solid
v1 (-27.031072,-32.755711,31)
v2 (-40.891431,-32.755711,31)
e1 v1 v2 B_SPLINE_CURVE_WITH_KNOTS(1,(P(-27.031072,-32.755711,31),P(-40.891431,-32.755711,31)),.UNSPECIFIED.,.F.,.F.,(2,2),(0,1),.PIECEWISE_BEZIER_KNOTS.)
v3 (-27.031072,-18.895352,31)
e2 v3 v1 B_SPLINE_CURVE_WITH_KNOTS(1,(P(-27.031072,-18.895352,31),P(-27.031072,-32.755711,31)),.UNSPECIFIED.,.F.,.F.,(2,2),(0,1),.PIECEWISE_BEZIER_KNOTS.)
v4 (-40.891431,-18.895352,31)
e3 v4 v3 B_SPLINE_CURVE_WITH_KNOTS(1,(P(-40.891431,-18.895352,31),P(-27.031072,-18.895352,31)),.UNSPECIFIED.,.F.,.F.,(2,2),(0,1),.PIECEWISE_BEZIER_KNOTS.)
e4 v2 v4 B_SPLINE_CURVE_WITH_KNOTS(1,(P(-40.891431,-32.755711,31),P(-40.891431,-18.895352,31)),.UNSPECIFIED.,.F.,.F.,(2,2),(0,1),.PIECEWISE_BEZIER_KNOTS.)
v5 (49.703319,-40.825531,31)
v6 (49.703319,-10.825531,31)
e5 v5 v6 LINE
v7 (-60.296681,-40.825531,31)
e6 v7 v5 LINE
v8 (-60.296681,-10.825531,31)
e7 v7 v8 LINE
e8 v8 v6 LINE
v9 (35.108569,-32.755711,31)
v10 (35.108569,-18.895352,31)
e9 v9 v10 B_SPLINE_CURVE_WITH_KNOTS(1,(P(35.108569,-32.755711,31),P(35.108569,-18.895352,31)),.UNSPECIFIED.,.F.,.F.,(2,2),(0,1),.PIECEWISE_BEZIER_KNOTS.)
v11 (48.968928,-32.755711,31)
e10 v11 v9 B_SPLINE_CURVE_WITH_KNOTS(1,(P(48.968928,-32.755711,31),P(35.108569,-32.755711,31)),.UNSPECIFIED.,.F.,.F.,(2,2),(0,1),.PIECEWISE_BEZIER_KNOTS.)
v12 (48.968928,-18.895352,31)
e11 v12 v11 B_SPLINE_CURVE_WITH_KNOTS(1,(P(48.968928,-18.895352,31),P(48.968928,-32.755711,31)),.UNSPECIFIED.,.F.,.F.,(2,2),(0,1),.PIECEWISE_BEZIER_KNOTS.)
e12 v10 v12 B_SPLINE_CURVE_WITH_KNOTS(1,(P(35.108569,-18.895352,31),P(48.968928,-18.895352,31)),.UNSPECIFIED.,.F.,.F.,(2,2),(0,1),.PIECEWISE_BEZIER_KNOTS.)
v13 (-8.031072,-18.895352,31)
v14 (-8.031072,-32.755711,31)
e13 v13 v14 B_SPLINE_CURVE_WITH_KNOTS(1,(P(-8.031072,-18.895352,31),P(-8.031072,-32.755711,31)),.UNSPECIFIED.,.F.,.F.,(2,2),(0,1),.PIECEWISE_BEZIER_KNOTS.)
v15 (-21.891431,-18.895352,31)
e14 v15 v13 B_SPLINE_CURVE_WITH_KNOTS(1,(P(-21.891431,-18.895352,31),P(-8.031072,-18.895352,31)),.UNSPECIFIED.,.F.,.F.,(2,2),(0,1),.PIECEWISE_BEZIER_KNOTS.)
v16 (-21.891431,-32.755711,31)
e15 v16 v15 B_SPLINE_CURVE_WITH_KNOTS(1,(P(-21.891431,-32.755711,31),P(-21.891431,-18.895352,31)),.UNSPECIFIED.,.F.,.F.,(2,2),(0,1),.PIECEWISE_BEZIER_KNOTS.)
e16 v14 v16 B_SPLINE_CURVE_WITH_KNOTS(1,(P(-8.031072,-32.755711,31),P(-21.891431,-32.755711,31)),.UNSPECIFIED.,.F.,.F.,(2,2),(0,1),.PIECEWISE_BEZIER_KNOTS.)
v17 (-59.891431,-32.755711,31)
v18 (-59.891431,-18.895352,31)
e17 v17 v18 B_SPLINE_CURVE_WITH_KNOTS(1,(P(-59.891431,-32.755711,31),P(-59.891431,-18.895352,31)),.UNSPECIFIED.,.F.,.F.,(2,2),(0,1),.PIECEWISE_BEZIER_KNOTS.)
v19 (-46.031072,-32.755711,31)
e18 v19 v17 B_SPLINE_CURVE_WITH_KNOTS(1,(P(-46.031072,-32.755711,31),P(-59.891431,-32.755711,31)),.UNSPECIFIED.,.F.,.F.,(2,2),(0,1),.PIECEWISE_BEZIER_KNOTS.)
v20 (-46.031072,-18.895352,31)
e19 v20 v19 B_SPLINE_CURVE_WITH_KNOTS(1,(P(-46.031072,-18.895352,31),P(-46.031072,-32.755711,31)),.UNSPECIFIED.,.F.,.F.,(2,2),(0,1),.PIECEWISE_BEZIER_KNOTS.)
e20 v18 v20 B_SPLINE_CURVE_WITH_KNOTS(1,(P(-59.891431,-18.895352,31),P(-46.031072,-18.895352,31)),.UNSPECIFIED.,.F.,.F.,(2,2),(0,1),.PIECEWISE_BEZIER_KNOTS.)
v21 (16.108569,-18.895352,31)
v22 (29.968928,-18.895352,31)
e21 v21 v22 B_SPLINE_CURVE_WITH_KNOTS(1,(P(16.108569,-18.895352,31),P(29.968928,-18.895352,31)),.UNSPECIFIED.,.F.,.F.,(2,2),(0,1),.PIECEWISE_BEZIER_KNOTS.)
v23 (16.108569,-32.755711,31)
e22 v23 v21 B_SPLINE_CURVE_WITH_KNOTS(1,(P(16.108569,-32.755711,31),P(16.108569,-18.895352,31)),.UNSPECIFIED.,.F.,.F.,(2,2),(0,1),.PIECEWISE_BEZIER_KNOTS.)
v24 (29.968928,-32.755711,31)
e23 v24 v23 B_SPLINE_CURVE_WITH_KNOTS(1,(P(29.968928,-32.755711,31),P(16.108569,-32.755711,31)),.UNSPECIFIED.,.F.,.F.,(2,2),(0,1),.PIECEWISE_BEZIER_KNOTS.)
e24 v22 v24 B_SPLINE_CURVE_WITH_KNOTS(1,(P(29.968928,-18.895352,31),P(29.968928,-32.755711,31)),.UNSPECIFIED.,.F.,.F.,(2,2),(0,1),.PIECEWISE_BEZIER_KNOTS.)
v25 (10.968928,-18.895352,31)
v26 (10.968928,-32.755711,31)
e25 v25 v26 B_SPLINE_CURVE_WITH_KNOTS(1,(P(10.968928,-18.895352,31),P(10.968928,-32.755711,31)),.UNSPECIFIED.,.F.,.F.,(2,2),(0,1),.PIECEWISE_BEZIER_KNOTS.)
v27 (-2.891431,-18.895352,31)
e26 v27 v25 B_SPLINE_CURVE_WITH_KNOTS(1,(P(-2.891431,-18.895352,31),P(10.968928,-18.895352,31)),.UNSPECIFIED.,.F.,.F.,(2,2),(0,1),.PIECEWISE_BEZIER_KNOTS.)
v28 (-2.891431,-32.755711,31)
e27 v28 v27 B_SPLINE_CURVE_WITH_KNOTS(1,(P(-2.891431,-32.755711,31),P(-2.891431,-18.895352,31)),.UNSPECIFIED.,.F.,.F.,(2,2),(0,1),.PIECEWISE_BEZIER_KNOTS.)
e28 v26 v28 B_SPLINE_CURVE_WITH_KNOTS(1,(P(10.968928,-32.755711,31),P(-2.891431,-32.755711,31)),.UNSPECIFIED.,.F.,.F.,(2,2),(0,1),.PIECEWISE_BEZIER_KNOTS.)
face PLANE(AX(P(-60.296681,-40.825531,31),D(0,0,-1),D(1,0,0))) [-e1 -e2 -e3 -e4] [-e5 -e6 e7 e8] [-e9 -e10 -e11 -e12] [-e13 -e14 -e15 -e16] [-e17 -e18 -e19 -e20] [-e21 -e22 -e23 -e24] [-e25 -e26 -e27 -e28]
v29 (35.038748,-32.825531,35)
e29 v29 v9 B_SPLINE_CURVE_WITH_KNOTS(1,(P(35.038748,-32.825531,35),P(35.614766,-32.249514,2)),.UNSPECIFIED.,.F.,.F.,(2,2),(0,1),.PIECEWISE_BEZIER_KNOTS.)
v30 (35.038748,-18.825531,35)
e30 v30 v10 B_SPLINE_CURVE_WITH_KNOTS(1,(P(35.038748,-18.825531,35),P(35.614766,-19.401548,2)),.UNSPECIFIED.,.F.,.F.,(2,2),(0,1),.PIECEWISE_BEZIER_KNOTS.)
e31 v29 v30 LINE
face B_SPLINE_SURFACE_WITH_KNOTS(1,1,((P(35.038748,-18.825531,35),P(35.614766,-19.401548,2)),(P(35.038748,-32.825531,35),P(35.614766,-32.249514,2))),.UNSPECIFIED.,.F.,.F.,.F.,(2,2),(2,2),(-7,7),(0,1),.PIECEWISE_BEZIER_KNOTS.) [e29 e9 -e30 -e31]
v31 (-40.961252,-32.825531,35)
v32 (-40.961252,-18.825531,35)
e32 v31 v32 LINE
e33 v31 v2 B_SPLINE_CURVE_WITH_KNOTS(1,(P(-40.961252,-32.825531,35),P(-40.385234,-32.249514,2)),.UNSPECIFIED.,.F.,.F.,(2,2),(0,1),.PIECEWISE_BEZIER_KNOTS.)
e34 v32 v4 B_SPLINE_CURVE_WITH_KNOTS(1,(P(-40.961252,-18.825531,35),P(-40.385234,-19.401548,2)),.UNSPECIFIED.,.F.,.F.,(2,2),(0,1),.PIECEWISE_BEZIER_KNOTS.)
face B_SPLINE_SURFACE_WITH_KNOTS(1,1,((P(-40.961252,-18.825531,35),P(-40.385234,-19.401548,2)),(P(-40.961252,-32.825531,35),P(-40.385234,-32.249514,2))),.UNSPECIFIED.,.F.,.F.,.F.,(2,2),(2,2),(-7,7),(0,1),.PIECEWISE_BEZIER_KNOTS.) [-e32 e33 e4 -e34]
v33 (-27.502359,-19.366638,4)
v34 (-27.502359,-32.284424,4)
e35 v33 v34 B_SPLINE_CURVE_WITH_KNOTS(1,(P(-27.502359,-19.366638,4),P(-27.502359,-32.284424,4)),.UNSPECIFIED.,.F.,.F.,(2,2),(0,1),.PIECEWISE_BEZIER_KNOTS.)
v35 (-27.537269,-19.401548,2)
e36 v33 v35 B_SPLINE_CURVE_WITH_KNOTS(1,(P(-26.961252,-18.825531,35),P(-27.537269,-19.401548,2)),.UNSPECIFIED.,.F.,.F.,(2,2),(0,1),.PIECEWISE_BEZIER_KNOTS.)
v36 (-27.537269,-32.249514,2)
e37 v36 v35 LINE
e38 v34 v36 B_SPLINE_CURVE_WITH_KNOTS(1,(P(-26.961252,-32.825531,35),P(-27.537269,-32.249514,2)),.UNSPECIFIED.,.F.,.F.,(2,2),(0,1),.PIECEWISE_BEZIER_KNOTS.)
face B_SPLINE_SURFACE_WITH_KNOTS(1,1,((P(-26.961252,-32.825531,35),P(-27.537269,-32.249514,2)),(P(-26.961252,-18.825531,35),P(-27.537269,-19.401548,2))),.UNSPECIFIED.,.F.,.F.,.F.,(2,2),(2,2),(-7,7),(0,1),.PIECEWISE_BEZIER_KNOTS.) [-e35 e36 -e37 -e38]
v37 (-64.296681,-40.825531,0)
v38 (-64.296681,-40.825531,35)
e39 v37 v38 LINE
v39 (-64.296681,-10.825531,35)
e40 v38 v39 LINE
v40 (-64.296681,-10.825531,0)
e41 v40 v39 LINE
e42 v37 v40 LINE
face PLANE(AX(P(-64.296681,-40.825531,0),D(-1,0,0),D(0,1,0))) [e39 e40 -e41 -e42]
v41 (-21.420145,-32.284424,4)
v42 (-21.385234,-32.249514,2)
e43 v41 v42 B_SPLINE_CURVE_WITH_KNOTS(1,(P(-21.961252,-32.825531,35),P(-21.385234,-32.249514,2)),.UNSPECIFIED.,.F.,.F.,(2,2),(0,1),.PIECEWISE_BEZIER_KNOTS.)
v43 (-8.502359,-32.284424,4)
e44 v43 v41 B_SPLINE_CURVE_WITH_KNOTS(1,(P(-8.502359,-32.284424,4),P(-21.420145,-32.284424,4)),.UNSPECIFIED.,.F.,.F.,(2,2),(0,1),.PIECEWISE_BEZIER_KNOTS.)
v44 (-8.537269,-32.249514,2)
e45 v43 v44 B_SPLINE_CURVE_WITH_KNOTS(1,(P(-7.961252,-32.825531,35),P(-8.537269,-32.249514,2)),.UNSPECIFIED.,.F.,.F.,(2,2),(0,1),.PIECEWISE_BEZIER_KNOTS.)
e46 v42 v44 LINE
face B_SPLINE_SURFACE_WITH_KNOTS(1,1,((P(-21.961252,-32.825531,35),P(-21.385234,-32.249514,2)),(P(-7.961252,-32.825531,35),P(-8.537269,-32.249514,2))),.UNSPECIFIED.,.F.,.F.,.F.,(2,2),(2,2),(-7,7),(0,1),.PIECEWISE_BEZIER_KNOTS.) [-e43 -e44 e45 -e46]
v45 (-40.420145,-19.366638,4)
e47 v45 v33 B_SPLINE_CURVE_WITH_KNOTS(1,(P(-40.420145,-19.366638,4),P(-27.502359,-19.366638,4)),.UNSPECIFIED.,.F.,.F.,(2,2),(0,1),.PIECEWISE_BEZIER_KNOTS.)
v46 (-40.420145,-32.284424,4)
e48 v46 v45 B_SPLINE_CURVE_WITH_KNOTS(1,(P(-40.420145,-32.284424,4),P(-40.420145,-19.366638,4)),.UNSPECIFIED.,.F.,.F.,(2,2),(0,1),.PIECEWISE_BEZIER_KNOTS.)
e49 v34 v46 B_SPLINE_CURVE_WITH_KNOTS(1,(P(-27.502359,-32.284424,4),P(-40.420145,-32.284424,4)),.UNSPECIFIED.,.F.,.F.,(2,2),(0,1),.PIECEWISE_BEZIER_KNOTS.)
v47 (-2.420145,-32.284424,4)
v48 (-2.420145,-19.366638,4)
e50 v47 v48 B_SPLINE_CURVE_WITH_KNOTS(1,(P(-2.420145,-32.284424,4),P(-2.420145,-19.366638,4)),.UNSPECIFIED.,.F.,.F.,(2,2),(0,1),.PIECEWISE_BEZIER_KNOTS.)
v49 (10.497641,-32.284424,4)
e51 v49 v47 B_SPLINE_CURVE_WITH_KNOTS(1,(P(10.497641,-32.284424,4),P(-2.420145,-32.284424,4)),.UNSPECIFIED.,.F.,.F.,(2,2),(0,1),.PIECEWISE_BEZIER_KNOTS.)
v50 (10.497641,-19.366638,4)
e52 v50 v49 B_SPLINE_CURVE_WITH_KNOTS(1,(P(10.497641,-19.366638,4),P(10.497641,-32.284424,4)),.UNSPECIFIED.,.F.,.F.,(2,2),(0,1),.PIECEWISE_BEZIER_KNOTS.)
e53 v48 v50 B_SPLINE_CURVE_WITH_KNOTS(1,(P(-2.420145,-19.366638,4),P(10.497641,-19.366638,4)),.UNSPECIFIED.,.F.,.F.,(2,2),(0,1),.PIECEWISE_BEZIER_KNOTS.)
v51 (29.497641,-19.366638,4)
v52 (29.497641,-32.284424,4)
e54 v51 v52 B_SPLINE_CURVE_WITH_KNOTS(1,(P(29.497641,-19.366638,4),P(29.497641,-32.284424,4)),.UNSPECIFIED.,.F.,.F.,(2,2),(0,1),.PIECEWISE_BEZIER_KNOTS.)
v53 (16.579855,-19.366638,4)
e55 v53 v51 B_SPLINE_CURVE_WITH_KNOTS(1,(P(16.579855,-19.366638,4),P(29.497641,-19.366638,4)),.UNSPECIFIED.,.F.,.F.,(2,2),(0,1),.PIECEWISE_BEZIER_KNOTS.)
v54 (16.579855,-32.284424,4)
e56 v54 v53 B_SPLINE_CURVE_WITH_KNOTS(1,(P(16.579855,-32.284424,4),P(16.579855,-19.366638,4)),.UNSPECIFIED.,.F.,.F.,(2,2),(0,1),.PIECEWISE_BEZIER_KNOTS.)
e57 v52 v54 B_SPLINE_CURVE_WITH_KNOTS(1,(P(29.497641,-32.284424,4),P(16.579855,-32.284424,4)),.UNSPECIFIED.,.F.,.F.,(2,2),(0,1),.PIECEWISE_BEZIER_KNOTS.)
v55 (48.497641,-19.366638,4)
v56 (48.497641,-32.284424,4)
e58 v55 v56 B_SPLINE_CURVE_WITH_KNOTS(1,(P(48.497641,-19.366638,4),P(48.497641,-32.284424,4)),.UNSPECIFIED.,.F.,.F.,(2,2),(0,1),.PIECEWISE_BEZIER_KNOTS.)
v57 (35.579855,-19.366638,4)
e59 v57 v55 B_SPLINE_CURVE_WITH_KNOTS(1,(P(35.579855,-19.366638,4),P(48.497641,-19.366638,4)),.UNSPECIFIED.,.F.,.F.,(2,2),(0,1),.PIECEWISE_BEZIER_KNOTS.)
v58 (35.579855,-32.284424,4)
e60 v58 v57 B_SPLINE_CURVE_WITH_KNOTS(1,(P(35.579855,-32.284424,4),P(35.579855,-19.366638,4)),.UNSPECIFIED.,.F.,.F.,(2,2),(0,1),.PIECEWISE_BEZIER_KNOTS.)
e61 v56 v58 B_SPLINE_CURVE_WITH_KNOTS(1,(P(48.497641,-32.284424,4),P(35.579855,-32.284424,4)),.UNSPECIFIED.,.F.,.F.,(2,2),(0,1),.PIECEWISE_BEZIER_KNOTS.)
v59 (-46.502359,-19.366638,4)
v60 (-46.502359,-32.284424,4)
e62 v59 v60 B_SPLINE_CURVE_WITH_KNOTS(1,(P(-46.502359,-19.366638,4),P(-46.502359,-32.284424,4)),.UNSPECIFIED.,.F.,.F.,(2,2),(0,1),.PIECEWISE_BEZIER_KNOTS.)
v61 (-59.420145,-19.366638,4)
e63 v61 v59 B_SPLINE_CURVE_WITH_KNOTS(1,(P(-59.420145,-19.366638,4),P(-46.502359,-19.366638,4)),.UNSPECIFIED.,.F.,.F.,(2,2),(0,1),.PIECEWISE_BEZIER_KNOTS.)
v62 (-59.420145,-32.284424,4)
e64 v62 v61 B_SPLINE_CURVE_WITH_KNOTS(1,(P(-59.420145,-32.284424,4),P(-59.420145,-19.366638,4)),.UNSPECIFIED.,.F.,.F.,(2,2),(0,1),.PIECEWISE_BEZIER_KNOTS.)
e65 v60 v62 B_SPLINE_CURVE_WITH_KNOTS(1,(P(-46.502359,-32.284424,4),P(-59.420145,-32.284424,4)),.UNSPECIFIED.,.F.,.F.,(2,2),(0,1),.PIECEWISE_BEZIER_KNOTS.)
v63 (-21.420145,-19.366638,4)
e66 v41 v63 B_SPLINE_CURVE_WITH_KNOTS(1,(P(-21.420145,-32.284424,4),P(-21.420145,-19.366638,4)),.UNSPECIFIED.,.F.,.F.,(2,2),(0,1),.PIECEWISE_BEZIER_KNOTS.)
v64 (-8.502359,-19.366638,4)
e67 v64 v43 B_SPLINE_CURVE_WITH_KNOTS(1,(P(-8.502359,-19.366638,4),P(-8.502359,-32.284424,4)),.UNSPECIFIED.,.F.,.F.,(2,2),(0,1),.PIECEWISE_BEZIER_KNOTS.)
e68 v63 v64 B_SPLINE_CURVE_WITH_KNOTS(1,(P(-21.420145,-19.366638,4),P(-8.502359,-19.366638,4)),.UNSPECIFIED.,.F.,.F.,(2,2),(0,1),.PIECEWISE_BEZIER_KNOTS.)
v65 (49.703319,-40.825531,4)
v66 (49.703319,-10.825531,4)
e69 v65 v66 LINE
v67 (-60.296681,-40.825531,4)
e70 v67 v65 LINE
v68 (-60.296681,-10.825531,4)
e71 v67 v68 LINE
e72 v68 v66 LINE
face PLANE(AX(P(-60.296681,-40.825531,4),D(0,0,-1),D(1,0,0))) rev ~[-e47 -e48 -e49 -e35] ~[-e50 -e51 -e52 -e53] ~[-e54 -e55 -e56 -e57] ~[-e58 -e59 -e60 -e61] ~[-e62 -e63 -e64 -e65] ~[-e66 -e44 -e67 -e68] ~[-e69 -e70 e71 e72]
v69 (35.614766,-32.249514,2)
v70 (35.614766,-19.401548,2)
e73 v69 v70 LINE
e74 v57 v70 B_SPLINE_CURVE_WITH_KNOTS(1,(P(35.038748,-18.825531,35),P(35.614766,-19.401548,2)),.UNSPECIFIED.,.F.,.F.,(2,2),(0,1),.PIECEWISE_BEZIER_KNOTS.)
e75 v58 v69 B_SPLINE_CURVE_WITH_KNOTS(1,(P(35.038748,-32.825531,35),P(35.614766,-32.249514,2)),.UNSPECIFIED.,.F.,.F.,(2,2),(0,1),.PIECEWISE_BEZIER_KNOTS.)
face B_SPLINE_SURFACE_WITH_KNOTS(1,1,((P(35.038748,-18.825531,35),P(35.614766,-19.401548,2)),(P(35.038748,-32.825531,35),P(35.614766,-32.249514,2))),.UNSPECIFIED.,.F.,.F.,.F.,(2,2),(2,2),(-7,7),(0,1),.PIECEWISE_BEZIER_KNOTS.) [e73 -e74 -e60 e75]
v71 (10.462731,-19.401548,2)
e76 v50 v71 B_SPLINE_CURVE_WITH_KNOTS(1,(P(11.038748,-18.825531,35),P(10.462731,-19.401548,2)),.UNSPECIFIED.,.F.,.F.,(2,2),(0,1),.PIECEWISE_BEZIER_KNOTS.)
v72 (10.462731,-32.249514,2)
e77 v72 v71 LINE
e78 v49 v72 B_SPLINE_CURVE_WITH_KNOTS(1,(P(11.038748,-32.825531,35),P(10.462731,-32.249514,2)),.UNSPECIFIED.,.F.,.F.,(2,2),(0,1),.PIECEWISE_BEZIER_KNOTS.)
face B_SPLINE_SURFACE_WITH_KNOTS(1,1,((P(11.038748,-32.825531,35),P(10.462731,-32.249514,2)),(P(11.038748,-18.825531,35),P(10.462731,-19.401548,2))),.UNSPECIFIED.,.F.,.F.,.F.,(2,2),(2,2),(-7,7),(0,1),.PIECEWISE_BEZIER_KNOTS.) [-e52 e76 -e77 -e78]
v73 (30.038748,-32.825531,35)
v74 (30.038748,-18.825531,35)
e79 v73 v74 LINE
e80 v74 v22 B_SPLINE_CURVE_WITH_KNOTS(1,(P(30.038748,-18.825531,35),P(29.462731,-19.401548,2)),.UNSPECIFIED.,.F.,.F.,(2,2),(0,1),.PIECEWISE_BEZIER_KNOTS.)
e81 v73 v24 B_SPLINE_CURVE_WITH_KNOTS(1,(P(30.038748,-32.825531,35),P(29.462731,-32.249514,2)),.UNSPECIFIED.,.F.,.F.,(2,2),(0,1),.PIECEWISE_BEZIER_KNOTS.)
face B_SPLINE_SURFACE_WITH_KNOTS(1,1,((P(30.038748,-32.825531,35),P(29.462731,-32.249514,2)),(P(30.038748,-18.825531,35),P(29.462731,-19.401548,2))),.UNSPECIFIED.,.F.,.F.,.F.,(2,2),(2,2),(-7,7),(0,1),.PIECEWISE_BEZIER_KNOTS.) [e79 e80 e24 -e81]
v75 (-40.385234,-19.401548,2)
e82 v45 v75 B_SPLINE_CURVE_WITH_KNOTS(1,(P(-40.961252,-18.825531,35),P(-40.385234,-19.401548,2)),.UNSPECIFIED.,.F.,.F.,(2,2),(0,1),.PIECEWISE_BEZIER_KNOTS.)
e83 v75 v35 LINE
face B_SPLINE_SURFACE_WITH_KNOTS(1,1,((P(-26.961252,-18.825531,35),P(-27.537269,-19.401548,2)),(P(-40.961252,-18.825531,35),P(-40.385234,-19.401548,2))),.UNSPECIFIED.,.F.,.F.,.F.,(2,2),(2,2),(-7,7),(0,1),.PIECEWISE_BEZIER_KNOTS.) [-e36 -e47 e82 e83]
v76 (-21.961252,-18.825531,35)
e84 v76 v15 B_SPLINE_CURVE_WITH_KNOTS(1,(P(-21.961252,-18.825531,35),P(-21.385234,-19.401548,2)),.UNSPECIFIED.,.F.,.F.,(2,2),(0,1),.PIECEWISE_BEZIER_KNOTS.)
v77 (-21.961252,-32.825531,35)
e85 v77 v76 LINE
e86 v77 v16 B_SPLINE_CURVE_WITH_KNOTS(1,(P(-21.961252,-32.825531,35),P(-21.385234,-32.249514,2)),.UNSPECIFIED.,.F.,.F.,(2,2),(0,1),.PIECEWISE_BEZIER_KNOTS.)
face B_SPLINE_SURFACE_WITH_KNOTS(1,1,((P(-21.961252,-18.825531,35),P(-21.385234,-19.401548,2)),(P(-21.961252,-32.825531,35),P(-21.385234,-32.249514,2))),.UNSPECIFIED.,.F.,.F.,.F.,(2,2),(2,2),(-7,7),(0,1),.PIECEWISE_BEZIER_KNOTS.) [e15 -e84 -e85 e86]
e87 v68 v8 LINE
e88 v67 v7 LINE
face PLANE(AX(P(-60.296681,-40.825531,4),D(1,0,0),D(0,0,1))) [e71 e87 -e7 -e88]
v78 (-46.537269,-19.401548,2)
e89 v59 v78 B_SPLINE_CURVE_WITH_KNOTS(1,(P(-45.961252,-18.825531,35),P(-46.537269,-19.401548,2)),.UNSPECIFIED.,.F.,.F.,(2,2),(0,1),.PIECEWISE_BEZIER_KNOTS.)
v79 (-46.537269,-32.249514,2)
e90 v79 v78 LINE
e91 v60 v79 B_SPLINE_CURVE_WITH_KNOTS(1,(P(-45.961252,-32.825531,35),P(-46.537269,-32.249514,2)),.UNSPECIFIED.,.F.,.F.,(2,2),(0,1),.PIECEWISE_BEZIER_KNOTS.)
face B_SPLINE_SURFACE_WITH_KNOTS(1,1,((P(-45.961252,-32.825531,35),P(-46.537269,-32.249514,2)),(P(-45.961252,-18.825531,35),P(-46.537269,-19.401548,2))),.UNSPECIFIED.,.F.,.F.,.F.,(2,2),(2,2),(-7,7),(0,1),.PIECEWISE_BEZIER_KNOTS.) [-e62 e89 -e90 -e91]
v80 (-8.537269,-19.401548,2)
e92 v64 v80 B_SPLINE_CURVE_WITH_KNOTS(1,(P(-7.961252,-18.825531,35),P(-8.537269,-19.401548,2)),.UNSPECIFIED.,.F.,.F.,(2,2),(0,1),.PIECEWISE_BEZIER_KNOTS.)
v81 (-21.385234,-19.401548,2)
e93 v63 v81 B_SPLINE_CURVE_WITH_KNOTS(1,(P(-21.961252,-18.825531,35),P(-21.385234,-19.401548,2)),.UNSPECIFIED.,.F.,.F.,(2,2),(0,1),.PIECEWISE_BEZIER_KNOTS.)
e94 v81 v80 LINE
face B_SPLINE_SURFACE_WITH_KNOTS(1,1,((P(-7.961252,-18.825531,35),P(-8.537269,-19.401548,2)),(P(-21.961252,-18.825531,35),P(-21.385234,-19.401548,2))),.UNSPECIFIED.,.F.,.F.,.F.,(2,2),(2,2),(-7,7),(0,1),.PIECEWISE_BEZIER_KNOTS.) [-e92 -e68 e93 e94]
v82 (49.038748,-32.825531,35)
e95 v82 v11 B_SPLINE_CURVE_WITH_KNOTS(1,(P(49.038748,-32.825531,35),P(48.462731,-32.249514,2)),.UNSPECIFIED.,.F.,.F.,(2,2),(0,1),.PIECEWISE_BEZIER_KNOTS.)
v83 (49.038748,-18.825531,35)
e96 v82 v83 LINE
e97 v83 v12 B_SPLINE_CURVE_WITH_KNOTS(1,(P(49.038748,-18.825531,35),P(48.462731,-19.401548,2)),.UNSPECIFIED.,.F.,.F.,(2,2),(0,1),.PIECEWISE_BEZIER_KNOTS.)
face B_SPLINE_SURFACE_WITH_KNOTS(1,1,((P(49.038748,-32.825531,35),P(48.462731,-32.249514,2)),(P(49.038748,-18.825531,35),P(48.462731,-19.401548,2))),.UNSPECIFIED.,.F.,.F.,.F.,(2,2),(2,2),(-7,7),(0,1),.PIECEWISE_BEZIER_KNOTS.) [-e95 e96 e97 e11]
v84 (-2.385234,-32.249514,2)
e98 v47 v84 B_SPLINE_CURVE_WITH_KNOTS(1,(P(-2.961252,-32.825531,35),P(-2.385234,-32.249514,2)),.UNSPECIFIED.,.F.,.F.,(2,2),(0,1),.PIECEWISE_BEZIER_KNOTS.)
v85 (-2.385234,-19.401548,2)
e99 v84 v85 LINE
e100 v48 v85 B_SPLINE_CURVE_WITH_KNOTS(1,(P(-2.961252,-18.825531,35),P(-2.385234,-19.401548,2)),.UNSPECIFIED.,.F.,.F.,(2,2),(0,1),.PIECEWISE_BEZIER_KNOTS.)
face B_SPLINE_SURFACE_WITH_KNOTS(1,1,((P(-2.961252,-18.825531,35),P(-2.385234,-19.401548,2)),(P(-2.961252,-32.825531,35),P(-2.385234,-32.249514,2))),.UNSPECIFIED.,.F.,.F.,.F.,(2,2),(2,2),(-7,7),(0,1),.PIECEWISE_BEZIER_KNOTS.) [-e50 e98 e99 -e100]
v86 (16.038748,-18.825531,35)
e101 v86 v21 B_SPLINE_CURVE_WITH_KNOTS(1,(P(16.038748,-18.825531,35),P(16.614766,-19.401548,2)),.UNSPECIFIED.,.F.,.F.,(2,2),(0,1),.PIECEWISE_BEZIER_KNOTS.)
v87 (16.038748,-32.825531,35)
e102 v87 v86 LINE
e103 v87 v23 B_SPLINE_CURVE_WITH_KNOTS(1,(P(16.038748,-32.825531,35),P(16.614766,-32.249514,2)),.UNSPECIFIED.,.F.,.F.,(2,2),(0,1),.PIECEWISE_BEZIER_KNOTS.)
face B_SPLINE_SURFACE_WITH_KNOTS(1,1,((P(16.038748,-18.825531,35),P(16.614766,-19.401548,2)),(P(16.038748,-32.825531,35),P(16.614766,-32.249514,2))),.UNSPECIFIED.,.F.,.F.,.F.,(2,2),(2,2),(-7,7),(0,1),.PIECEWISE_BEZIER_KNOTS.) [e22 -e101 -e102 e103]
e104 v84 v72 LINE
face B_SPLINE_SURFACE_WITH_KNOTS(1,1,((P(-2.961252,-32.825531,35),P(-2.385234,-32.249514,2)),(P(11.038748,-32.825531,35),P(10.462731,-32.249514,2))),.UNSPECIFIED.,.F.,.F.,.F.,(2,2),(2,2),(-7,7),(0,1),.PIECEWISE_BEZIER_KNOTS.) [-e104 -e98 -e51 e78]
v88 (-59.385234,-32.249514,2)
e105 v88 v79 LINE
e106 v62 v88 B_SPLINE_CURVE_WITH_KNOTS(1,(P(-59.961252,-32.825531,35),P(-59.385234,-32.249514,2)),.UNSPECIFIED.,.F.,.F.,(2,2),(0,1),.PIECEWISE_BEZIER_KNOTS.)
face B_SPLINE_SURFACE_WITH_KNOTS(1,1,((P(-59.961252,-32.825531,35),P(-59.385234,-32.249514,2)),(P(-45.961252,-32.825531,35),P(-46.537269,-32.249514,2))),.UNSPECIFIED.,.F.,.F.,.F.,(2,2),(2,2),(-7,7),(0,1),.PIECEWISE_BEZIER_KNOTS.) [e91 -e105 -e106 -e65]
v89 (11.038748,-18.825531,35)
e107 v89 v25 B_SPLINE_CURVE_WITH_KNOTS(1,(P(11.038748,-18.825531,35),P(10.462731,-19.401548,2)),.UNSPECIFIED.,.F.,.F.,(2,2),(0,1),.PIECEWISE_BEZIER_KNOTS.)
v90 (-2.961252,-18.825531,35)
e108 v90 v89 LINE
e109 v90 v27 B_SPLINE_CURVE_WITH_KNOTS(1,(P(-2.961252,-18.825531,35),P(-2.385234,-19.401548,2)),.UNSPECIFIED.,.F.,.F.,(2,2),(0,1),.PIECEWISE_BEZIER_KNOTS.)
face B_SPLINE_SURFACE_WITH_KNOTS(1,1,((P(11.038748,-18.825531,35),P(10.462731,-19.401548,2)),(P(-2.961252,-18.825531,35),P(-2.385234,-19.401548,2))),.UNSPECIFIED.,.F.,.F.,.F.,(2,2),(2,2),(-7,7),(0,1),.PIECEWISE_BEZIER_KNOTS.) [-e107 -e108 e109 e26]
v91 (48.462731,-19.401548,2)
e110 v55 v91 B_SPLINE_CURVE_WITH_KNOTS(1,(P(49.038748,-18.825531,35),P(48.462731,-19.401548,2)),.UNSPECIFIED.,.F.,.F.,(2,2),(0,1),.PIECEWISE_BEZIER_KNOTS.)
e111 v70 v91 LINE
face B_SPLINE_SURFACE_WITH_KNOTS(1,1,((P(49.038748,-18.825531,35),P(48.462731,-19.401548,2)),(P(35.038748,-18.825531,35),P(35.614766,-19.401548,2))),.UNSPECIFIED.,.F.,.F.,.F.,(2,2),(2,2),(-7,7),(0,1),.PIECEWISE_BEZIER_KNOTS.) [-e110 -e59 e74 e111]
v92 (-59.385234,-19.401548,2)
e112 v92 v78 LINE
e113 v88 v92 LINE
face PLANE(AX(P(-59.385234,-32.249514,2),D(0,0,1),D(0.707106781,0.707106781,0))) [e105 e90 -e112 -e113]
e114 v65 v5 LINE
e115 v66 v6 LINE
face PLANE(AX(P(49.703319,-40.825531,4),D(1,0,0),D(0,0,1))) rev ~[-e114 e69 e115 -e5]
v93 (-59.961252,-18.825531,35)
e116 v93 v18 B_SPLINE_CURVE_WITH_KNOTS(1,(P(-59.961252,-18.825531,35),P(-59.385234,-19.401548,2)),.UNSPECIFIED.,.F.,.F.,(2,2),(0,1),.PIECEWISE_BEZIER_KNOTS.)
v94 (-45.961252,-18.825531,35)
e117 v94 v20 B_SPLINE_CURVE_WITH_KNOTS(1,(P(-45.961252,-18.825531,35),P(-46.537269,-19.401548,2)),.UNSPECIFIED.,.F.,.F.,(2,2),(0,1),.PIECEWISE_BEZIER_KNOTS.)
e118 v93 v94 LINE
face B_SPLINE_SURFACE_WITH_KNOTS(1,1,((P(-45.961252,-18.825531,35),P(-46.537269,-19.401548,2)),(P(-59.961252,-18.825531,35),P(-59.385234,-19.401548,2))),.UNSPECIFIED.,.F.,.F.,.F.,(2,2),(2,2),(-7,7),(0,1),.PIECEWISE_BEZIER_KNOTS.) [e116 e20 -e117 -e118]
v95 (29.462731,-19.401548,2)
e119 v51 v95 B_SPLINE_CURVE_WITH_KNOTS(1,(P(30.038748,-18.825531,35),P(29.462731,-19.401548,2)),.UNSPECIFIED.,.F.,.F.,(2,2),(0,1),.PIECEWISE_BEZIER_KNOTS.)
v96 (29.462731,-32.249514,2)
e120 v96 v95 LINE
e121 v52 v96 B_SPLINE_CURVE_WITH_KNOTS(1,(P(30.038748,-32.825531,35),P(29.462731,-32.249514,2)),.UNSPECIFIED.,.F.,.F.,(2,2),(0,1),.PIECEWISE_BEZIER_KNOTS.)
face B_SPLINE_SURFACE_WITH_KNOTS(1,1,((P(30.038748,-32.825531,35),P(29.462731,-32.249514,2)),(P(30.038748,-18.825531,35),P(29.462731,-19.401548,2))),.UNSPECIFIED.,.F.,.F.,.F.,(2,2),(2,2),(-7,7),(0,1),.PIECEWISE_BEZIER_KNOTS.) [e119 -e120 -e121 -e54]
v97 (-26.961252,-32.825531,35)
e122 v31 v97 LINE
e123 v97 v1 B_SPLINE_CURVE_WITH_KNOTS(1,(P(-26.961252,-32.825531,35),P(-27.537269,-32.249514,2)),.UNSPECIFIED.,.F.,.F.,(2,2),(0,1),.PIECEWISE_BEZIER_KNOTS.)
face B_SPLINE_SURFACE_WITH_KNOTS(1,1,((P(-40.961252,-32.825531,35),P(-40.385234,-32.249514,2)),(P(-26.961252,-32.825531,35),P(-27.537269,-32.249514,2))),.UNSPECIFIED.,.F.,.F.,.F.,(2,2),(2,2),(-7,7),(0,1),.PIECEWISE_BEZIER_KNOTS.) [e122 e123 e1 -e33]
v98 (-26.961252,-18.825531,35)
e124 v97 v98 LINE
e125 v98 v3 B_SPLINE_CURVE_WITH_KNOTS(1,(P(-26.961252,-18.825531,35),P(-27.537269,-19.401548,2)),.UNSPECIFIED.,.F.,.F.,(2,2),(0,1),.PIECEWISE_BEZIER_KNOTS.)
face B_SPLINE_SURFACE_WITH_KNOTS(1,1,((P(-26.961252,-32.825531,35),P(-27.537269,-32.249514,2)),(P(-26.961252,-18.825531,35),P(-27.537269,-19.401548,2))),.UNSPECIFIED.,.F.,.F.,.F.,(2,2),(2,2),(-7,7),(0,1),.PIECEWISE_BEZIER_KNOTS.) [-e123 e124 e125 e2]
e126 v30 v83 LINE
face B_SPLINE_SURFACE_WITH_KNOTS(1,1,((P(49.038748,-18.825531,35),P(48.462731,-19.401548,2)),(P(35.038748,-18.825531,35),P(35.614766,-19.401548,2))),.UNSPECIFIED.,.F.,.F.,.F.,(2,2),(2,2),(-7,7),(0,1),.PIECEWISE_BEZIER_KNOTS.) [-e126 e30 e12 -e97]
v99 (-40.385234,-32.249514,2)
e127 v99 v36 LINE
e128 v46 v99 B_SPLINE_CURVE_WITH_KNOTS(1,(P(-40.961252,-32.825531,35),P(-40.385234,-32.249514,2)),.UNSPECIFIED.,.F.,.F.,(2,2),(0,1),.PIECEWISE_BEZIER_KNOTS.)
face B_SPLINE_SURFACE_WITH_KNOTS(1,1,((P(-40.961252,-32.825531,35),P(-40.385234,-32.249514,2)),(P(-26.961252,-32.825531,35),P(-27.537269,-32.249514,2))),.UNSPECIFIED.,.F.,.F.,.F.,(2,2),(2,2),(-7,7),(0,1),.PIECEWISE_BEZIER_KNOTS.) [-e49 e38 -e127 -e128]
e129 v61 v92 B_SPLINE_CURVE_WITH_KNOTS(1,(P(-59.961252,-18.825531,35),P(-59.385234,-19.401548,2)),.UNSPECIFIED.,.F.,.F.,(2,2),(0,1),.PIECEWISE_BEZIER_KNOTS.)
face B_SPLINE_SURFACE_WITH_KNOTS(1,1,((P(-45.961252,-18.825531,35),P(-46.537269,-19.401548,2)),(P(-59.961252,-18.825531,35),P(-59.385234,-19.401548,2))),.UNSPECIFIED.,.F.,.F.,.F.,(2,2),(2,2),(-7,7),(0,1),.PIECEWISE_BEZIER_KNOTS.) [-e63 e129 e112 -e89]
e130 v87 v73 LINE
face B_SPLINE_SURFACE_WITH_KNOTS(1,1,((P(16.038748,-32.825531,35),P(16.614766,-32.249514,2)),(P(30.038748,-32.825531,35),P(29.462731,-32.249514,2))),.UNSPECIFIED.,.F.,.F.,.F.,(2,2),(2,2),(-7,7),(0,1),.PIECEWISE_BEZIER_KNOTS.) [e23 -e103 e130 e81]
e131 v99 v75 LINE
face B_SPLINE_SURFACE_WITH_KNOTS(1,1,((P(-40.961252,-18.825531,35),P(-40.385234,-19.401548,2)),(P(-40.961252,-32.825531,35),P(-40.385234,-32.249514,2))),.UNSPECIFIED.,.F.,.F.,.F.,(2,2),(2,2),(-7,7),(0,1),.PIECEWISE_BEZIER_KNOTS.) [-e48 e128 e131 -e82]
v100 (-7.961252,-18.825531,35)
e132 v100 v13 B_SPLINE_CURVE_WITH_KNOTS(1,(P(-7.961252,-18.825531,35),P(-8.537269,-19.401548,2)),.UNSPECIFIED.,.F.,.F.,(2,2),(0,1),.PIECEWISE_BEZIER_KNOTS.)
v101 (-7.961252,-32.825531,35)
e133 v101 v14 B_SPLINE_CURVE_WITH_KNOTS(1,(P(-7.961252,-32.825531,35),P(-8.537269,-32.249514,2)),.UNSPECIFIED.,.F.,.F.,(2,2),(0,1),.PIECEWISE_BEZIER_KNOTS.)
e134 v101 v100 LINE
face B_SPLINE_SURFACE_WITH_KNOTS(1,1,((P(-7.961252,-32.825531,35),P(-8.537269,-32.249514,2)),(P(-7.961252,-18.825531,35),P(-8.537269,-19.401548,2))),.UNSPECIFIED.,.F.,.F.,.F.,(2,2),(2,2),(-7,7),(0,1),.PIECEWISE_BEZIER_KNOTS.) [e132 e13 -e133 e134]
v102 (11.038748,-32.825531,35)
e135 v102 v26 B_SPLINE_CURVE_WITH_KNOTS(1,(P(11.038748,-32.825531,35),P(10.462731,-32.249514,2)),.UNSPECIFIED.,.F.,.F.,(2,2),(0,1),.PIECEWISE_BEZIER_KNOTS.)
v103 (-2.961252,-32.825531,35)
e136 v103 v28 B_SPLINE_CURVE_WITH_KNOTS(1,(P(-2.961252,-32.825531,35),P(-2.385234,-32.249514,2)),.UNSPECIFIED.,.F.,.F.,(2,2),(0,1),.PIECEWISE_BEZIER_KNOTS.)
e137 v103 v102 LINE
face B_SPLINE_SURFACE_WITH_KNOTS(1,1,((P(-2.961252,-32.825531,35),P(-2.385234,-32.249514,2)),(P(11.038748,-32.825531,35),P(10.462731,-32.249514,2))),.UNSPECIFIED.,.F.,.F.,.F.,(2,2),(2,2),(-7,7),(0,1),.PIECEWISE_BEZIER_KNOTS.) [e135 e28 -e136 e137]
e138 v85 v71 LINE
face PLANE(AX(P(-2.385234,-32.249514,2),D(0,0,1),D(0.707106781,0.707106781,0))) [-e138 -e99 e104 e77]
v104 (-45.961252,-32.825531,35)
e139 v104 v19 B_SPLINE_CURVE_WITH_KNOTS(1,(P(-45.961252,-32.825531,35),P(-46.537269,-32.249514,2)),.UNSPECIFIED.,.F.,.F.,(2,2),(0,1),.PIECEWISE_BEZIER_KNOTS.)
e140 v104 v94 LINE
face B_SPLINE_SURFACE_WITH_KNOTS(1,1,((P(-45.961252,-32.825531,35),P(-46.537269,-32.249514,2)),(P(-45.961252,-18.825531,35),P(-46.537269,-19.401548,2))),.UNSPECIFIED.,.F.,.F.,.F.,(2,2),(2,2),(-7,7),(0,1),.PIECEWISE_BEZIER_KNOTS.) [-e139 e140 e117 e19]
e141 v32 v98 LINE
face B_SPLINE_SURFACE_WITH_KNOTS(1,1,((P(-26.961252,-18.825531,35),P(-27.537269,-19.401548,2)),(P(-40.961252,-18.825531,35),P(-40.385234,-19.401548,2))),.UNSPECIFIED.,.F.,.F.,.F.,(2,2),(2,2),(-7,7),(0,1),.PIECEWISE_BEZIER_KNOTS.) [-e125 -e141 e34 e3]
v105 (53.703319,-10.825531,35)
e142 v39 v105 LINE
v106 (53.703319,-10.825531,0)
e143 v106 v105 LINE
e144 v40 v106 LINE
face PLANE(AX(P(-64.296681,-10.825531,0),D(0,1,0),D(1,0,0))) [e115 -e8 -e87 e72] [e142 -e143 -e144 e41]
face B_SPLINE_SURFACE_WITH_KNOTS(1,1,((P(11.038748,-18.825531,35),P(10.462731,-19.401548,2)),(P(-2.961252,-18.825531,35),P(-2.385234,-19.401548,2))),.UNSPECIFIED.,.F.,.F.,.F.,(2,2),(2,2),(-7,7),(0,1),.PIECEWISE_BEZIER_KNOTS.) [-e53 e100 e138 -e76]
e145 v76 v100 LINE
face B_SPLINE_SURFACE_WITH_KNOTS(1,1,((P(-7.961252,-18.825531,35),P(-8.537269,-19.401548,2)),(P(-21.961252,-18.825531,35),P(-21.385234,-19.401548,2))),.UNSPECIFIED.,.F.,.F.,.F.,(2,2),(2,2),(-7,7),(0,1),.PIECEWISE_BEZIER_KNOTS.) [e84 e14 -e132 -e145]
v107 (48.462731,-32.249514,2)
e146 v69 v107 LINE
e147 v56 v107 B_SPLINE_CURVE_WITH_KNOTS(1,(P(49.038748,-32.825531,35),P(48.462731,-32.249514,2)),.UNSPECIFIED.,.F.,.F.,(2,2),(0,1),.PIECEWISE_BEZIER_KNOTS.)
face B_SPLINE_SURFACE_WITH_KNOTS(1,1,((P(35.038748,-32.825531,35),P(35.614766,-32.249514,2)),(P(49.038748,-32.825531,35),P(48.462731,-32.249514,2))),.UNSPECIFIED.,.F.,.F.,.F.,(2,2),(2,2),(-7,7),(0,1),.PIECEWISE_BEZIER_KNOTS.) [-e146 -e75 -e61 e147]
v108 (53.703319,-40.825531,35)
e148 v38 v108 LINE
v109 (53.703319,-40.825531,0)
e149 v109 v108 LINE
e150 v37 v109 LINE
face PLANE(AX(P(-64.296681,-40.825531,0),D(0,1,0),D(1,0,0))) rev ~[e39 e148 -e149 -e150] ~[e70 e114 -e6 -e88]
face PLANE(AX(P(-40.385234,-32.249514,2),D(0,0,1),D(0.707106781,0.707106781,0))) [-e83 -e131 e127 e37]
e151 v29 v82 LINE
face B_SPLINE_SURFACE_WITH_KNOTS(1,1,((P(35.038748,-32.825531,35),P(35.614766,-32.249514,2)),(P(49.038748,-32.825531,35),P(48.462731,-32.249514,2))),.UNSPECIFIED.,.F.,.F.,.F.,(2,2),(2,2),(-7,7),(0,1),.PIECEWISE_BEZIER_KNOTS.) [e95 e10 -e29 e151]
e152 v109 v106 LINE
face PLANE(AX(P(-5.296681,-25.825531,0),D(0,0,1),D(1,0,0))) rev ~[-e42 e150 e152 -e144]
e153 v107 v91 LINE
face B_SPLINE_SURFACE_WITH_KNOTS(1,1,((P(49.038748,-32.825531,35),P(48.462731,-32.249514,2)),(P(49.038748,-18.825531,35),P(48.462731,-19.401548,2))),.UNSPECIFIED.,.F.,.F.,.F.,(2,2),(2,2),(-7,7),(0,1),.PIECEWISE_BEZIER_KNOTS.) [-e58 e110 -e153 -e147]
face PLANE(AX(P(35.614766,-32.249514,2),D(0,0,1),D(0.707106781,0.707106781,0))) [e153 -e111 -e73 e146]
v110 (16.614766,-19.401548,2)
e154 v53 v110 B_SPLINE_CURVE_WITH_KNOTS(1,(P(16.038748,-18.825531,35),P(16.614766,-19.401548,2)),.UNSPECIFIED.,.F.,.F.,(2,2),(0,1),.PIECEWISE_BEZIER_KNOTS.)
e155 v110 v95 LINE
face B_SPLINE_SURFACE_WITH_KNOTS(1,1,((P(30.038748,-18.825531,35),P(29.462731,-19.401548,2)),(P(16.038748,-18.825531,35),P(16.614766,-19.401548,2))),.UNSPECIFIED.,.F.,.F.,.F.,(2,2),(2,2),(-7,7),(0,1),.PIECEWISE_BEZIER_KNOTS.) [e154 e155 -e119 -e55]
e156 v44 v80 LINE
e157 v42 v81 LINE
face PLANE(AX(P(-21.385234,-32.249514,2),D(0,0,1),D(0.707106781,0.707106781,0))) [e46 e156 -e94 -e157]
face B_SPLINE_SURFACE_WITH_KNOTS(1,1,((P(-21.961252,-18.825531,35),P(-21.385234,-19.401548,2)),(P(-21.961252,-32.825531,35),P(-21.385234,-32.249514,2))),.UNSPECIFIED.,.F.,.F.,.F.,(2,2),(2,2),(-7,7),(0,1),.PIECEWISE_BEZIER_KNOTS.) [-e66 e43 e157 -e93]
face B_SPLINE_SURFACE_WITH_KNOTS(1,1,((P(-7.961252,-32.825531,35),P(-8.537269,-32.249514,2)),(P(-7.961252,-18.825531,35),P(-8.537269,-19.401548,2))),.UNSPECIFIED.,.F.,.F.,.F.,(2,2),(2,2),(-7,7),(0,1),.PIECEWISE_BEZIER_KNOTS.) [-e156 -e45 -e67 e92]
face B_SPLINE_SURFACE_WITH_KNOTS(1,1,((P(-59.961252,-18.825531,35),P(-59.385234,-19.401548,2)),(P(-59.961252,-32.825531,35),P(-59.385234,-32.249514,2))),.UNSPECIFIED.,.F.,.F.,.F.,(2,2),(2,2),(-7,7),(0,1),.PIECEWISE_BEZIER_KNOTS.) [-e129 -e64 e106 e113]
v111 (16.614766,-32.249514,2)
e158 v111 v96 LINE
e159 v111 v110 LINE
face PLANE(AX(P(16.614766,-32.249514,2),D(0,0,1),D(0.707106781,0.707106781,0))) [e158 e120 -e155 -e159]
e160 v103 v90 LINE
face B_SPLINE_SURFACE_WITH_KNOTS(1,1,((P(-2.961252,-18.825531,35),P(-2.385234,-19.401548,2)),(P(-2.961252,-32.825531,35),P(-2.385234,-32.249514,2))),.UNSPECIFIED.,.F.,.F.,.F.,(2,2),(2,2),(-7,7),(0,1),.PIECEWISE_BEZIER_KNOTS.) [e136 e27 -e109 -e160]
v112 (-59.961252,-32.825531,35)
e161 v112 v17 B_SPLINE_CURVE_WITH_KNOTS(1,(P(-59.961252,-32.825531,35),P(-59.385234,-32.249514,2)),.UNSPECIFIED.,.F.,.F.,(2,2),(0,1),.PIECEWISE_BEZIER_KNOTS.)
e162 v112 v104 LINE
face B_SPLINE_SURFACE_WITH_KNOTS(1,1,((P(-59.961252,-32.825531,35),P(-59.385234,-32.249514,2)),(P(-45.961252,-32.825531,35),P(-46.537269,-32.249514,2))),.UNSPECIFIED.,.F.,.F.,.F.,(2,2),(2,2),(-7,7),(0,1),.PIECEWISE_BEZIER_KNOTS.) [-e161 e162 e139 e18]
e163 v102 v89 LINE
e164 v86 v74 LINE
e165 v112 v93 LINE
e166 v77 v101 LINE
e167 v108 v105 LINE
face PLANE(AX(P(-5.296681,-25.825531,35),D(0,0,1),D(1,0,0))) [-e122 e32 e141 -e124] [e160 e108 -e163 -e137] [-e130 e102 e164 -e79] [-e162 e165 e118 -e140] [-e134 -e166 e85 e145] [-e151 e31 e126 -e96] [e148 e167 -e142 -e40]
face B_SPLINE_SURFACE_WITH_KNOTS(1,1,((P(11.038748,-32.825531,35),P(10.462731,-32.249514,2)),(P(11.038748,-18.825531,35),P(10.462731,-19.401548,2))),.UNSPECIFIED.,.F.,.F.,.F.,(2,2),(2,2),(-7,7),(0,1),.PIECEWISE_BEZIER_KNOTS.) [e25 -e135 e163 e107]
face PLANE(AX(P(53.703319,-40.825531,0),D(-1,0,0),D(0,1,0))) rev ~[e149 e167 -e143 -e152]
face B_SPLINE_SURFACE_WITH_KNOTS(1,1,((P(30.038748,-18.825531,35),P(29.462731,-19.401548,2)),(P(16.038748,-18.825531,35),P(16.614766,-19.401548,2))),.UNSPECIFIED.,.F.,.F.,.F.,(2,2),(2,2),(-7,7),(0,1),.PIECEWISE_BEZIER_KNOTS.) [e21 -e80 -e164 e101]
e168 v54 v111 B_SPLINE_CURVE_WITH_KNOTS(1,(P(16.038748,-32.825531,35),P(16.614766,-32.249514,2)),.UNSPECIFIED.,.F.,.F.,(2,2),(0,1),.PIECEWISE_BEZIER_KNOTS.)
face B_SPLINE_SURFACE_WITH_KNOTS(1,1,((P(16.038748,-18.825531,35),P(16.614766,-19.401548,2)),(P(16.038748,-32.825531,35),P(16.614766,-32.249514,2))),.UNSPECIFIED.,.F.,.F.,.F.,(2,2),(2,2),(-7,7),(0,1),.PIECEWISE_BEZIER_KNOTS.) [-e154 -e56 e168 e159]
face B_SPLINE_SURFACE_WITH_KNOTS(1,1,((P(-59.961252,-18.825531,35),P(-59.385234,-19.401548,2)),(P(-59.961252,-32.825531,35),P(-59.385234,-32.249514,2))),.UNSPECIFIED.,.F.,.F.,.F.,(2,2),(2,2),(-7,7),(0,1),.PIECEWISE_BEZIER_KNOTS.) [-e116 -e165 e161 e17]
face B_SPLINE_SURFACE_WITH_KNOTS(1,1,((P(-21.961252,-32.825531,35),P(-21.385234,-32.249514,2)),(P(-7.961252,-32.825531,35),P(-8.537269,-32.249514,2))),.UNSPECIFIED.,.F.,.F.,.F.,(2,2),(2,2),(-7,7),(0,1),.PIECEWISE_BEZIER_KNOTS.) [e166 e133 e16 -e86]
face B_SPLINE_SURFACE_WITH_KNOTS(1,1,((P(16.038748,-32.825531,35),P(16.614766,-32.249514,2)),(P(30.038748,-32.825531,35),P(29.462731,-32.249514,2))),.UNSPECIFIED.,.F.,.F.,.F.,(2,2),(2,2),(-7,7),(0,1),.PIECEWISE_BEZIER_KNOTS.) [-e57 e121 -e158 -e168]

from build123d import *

# Parameters (mm, degrees)
F0_W     = 118
F0_H     = 30
F1_DEPTH = 35
F2_W     = 14
F2_H     = 14
F3_DEPTH = 33
F3_TAPER = 1
F4_W     = 110
F4_H     = 27
F5_DEPTH = 30


with BuildPart() as f1:
    # F0 (on Top) → F1 (new body)
    with BuildSketch(Plane.XY):
        with Locations((-5.2966810763, -25.8255312847)):
            Rectangle(F0_W, F0_H)
    extrude(amount=F1_DEPTH)

    # F2 (on face) → F3 (cut)
    with BuildSketch(Plane.XY.offset(35)):
        with Locations((-52.9612515788, -25.8255312847)):
            Rectangle(F2_W, F2_H)
        with Locations((-33.9612515788, -25.8255312847)):
            Rectangle(F2_W, F2_H)
        with Locations((-14.9612515788, -25.8255312847)):
            Rectangle(F2_W, F2_H)
        with Locations((4.0387484212, -25.8255312847)):
            Rectangle(F2_W, F2_H)
        with Locations((23.0387484212, -25.8255312847)):
            Rectangle(F2_W, F2_H)
        with Locations((42.0387484212, -25.8255312847)):
            Rectangle(F2_W, F2_H)
    extrude(amount=-F3_DEPTH, taper=F3_TAPER, mode=Mode.SUBTRACT)

    # F4 (on face) → F5 (cut)
    with BuildSketch(Plane.XZ.offset(40.8255312847)):
        with Locations((-5.2966810763, 17.5)):
            Rectangle(F4_W, F4_H)
    extrude(amount=-F5_DEPTH, mode=Mode.SUBTRACT)


solid = f1.part
